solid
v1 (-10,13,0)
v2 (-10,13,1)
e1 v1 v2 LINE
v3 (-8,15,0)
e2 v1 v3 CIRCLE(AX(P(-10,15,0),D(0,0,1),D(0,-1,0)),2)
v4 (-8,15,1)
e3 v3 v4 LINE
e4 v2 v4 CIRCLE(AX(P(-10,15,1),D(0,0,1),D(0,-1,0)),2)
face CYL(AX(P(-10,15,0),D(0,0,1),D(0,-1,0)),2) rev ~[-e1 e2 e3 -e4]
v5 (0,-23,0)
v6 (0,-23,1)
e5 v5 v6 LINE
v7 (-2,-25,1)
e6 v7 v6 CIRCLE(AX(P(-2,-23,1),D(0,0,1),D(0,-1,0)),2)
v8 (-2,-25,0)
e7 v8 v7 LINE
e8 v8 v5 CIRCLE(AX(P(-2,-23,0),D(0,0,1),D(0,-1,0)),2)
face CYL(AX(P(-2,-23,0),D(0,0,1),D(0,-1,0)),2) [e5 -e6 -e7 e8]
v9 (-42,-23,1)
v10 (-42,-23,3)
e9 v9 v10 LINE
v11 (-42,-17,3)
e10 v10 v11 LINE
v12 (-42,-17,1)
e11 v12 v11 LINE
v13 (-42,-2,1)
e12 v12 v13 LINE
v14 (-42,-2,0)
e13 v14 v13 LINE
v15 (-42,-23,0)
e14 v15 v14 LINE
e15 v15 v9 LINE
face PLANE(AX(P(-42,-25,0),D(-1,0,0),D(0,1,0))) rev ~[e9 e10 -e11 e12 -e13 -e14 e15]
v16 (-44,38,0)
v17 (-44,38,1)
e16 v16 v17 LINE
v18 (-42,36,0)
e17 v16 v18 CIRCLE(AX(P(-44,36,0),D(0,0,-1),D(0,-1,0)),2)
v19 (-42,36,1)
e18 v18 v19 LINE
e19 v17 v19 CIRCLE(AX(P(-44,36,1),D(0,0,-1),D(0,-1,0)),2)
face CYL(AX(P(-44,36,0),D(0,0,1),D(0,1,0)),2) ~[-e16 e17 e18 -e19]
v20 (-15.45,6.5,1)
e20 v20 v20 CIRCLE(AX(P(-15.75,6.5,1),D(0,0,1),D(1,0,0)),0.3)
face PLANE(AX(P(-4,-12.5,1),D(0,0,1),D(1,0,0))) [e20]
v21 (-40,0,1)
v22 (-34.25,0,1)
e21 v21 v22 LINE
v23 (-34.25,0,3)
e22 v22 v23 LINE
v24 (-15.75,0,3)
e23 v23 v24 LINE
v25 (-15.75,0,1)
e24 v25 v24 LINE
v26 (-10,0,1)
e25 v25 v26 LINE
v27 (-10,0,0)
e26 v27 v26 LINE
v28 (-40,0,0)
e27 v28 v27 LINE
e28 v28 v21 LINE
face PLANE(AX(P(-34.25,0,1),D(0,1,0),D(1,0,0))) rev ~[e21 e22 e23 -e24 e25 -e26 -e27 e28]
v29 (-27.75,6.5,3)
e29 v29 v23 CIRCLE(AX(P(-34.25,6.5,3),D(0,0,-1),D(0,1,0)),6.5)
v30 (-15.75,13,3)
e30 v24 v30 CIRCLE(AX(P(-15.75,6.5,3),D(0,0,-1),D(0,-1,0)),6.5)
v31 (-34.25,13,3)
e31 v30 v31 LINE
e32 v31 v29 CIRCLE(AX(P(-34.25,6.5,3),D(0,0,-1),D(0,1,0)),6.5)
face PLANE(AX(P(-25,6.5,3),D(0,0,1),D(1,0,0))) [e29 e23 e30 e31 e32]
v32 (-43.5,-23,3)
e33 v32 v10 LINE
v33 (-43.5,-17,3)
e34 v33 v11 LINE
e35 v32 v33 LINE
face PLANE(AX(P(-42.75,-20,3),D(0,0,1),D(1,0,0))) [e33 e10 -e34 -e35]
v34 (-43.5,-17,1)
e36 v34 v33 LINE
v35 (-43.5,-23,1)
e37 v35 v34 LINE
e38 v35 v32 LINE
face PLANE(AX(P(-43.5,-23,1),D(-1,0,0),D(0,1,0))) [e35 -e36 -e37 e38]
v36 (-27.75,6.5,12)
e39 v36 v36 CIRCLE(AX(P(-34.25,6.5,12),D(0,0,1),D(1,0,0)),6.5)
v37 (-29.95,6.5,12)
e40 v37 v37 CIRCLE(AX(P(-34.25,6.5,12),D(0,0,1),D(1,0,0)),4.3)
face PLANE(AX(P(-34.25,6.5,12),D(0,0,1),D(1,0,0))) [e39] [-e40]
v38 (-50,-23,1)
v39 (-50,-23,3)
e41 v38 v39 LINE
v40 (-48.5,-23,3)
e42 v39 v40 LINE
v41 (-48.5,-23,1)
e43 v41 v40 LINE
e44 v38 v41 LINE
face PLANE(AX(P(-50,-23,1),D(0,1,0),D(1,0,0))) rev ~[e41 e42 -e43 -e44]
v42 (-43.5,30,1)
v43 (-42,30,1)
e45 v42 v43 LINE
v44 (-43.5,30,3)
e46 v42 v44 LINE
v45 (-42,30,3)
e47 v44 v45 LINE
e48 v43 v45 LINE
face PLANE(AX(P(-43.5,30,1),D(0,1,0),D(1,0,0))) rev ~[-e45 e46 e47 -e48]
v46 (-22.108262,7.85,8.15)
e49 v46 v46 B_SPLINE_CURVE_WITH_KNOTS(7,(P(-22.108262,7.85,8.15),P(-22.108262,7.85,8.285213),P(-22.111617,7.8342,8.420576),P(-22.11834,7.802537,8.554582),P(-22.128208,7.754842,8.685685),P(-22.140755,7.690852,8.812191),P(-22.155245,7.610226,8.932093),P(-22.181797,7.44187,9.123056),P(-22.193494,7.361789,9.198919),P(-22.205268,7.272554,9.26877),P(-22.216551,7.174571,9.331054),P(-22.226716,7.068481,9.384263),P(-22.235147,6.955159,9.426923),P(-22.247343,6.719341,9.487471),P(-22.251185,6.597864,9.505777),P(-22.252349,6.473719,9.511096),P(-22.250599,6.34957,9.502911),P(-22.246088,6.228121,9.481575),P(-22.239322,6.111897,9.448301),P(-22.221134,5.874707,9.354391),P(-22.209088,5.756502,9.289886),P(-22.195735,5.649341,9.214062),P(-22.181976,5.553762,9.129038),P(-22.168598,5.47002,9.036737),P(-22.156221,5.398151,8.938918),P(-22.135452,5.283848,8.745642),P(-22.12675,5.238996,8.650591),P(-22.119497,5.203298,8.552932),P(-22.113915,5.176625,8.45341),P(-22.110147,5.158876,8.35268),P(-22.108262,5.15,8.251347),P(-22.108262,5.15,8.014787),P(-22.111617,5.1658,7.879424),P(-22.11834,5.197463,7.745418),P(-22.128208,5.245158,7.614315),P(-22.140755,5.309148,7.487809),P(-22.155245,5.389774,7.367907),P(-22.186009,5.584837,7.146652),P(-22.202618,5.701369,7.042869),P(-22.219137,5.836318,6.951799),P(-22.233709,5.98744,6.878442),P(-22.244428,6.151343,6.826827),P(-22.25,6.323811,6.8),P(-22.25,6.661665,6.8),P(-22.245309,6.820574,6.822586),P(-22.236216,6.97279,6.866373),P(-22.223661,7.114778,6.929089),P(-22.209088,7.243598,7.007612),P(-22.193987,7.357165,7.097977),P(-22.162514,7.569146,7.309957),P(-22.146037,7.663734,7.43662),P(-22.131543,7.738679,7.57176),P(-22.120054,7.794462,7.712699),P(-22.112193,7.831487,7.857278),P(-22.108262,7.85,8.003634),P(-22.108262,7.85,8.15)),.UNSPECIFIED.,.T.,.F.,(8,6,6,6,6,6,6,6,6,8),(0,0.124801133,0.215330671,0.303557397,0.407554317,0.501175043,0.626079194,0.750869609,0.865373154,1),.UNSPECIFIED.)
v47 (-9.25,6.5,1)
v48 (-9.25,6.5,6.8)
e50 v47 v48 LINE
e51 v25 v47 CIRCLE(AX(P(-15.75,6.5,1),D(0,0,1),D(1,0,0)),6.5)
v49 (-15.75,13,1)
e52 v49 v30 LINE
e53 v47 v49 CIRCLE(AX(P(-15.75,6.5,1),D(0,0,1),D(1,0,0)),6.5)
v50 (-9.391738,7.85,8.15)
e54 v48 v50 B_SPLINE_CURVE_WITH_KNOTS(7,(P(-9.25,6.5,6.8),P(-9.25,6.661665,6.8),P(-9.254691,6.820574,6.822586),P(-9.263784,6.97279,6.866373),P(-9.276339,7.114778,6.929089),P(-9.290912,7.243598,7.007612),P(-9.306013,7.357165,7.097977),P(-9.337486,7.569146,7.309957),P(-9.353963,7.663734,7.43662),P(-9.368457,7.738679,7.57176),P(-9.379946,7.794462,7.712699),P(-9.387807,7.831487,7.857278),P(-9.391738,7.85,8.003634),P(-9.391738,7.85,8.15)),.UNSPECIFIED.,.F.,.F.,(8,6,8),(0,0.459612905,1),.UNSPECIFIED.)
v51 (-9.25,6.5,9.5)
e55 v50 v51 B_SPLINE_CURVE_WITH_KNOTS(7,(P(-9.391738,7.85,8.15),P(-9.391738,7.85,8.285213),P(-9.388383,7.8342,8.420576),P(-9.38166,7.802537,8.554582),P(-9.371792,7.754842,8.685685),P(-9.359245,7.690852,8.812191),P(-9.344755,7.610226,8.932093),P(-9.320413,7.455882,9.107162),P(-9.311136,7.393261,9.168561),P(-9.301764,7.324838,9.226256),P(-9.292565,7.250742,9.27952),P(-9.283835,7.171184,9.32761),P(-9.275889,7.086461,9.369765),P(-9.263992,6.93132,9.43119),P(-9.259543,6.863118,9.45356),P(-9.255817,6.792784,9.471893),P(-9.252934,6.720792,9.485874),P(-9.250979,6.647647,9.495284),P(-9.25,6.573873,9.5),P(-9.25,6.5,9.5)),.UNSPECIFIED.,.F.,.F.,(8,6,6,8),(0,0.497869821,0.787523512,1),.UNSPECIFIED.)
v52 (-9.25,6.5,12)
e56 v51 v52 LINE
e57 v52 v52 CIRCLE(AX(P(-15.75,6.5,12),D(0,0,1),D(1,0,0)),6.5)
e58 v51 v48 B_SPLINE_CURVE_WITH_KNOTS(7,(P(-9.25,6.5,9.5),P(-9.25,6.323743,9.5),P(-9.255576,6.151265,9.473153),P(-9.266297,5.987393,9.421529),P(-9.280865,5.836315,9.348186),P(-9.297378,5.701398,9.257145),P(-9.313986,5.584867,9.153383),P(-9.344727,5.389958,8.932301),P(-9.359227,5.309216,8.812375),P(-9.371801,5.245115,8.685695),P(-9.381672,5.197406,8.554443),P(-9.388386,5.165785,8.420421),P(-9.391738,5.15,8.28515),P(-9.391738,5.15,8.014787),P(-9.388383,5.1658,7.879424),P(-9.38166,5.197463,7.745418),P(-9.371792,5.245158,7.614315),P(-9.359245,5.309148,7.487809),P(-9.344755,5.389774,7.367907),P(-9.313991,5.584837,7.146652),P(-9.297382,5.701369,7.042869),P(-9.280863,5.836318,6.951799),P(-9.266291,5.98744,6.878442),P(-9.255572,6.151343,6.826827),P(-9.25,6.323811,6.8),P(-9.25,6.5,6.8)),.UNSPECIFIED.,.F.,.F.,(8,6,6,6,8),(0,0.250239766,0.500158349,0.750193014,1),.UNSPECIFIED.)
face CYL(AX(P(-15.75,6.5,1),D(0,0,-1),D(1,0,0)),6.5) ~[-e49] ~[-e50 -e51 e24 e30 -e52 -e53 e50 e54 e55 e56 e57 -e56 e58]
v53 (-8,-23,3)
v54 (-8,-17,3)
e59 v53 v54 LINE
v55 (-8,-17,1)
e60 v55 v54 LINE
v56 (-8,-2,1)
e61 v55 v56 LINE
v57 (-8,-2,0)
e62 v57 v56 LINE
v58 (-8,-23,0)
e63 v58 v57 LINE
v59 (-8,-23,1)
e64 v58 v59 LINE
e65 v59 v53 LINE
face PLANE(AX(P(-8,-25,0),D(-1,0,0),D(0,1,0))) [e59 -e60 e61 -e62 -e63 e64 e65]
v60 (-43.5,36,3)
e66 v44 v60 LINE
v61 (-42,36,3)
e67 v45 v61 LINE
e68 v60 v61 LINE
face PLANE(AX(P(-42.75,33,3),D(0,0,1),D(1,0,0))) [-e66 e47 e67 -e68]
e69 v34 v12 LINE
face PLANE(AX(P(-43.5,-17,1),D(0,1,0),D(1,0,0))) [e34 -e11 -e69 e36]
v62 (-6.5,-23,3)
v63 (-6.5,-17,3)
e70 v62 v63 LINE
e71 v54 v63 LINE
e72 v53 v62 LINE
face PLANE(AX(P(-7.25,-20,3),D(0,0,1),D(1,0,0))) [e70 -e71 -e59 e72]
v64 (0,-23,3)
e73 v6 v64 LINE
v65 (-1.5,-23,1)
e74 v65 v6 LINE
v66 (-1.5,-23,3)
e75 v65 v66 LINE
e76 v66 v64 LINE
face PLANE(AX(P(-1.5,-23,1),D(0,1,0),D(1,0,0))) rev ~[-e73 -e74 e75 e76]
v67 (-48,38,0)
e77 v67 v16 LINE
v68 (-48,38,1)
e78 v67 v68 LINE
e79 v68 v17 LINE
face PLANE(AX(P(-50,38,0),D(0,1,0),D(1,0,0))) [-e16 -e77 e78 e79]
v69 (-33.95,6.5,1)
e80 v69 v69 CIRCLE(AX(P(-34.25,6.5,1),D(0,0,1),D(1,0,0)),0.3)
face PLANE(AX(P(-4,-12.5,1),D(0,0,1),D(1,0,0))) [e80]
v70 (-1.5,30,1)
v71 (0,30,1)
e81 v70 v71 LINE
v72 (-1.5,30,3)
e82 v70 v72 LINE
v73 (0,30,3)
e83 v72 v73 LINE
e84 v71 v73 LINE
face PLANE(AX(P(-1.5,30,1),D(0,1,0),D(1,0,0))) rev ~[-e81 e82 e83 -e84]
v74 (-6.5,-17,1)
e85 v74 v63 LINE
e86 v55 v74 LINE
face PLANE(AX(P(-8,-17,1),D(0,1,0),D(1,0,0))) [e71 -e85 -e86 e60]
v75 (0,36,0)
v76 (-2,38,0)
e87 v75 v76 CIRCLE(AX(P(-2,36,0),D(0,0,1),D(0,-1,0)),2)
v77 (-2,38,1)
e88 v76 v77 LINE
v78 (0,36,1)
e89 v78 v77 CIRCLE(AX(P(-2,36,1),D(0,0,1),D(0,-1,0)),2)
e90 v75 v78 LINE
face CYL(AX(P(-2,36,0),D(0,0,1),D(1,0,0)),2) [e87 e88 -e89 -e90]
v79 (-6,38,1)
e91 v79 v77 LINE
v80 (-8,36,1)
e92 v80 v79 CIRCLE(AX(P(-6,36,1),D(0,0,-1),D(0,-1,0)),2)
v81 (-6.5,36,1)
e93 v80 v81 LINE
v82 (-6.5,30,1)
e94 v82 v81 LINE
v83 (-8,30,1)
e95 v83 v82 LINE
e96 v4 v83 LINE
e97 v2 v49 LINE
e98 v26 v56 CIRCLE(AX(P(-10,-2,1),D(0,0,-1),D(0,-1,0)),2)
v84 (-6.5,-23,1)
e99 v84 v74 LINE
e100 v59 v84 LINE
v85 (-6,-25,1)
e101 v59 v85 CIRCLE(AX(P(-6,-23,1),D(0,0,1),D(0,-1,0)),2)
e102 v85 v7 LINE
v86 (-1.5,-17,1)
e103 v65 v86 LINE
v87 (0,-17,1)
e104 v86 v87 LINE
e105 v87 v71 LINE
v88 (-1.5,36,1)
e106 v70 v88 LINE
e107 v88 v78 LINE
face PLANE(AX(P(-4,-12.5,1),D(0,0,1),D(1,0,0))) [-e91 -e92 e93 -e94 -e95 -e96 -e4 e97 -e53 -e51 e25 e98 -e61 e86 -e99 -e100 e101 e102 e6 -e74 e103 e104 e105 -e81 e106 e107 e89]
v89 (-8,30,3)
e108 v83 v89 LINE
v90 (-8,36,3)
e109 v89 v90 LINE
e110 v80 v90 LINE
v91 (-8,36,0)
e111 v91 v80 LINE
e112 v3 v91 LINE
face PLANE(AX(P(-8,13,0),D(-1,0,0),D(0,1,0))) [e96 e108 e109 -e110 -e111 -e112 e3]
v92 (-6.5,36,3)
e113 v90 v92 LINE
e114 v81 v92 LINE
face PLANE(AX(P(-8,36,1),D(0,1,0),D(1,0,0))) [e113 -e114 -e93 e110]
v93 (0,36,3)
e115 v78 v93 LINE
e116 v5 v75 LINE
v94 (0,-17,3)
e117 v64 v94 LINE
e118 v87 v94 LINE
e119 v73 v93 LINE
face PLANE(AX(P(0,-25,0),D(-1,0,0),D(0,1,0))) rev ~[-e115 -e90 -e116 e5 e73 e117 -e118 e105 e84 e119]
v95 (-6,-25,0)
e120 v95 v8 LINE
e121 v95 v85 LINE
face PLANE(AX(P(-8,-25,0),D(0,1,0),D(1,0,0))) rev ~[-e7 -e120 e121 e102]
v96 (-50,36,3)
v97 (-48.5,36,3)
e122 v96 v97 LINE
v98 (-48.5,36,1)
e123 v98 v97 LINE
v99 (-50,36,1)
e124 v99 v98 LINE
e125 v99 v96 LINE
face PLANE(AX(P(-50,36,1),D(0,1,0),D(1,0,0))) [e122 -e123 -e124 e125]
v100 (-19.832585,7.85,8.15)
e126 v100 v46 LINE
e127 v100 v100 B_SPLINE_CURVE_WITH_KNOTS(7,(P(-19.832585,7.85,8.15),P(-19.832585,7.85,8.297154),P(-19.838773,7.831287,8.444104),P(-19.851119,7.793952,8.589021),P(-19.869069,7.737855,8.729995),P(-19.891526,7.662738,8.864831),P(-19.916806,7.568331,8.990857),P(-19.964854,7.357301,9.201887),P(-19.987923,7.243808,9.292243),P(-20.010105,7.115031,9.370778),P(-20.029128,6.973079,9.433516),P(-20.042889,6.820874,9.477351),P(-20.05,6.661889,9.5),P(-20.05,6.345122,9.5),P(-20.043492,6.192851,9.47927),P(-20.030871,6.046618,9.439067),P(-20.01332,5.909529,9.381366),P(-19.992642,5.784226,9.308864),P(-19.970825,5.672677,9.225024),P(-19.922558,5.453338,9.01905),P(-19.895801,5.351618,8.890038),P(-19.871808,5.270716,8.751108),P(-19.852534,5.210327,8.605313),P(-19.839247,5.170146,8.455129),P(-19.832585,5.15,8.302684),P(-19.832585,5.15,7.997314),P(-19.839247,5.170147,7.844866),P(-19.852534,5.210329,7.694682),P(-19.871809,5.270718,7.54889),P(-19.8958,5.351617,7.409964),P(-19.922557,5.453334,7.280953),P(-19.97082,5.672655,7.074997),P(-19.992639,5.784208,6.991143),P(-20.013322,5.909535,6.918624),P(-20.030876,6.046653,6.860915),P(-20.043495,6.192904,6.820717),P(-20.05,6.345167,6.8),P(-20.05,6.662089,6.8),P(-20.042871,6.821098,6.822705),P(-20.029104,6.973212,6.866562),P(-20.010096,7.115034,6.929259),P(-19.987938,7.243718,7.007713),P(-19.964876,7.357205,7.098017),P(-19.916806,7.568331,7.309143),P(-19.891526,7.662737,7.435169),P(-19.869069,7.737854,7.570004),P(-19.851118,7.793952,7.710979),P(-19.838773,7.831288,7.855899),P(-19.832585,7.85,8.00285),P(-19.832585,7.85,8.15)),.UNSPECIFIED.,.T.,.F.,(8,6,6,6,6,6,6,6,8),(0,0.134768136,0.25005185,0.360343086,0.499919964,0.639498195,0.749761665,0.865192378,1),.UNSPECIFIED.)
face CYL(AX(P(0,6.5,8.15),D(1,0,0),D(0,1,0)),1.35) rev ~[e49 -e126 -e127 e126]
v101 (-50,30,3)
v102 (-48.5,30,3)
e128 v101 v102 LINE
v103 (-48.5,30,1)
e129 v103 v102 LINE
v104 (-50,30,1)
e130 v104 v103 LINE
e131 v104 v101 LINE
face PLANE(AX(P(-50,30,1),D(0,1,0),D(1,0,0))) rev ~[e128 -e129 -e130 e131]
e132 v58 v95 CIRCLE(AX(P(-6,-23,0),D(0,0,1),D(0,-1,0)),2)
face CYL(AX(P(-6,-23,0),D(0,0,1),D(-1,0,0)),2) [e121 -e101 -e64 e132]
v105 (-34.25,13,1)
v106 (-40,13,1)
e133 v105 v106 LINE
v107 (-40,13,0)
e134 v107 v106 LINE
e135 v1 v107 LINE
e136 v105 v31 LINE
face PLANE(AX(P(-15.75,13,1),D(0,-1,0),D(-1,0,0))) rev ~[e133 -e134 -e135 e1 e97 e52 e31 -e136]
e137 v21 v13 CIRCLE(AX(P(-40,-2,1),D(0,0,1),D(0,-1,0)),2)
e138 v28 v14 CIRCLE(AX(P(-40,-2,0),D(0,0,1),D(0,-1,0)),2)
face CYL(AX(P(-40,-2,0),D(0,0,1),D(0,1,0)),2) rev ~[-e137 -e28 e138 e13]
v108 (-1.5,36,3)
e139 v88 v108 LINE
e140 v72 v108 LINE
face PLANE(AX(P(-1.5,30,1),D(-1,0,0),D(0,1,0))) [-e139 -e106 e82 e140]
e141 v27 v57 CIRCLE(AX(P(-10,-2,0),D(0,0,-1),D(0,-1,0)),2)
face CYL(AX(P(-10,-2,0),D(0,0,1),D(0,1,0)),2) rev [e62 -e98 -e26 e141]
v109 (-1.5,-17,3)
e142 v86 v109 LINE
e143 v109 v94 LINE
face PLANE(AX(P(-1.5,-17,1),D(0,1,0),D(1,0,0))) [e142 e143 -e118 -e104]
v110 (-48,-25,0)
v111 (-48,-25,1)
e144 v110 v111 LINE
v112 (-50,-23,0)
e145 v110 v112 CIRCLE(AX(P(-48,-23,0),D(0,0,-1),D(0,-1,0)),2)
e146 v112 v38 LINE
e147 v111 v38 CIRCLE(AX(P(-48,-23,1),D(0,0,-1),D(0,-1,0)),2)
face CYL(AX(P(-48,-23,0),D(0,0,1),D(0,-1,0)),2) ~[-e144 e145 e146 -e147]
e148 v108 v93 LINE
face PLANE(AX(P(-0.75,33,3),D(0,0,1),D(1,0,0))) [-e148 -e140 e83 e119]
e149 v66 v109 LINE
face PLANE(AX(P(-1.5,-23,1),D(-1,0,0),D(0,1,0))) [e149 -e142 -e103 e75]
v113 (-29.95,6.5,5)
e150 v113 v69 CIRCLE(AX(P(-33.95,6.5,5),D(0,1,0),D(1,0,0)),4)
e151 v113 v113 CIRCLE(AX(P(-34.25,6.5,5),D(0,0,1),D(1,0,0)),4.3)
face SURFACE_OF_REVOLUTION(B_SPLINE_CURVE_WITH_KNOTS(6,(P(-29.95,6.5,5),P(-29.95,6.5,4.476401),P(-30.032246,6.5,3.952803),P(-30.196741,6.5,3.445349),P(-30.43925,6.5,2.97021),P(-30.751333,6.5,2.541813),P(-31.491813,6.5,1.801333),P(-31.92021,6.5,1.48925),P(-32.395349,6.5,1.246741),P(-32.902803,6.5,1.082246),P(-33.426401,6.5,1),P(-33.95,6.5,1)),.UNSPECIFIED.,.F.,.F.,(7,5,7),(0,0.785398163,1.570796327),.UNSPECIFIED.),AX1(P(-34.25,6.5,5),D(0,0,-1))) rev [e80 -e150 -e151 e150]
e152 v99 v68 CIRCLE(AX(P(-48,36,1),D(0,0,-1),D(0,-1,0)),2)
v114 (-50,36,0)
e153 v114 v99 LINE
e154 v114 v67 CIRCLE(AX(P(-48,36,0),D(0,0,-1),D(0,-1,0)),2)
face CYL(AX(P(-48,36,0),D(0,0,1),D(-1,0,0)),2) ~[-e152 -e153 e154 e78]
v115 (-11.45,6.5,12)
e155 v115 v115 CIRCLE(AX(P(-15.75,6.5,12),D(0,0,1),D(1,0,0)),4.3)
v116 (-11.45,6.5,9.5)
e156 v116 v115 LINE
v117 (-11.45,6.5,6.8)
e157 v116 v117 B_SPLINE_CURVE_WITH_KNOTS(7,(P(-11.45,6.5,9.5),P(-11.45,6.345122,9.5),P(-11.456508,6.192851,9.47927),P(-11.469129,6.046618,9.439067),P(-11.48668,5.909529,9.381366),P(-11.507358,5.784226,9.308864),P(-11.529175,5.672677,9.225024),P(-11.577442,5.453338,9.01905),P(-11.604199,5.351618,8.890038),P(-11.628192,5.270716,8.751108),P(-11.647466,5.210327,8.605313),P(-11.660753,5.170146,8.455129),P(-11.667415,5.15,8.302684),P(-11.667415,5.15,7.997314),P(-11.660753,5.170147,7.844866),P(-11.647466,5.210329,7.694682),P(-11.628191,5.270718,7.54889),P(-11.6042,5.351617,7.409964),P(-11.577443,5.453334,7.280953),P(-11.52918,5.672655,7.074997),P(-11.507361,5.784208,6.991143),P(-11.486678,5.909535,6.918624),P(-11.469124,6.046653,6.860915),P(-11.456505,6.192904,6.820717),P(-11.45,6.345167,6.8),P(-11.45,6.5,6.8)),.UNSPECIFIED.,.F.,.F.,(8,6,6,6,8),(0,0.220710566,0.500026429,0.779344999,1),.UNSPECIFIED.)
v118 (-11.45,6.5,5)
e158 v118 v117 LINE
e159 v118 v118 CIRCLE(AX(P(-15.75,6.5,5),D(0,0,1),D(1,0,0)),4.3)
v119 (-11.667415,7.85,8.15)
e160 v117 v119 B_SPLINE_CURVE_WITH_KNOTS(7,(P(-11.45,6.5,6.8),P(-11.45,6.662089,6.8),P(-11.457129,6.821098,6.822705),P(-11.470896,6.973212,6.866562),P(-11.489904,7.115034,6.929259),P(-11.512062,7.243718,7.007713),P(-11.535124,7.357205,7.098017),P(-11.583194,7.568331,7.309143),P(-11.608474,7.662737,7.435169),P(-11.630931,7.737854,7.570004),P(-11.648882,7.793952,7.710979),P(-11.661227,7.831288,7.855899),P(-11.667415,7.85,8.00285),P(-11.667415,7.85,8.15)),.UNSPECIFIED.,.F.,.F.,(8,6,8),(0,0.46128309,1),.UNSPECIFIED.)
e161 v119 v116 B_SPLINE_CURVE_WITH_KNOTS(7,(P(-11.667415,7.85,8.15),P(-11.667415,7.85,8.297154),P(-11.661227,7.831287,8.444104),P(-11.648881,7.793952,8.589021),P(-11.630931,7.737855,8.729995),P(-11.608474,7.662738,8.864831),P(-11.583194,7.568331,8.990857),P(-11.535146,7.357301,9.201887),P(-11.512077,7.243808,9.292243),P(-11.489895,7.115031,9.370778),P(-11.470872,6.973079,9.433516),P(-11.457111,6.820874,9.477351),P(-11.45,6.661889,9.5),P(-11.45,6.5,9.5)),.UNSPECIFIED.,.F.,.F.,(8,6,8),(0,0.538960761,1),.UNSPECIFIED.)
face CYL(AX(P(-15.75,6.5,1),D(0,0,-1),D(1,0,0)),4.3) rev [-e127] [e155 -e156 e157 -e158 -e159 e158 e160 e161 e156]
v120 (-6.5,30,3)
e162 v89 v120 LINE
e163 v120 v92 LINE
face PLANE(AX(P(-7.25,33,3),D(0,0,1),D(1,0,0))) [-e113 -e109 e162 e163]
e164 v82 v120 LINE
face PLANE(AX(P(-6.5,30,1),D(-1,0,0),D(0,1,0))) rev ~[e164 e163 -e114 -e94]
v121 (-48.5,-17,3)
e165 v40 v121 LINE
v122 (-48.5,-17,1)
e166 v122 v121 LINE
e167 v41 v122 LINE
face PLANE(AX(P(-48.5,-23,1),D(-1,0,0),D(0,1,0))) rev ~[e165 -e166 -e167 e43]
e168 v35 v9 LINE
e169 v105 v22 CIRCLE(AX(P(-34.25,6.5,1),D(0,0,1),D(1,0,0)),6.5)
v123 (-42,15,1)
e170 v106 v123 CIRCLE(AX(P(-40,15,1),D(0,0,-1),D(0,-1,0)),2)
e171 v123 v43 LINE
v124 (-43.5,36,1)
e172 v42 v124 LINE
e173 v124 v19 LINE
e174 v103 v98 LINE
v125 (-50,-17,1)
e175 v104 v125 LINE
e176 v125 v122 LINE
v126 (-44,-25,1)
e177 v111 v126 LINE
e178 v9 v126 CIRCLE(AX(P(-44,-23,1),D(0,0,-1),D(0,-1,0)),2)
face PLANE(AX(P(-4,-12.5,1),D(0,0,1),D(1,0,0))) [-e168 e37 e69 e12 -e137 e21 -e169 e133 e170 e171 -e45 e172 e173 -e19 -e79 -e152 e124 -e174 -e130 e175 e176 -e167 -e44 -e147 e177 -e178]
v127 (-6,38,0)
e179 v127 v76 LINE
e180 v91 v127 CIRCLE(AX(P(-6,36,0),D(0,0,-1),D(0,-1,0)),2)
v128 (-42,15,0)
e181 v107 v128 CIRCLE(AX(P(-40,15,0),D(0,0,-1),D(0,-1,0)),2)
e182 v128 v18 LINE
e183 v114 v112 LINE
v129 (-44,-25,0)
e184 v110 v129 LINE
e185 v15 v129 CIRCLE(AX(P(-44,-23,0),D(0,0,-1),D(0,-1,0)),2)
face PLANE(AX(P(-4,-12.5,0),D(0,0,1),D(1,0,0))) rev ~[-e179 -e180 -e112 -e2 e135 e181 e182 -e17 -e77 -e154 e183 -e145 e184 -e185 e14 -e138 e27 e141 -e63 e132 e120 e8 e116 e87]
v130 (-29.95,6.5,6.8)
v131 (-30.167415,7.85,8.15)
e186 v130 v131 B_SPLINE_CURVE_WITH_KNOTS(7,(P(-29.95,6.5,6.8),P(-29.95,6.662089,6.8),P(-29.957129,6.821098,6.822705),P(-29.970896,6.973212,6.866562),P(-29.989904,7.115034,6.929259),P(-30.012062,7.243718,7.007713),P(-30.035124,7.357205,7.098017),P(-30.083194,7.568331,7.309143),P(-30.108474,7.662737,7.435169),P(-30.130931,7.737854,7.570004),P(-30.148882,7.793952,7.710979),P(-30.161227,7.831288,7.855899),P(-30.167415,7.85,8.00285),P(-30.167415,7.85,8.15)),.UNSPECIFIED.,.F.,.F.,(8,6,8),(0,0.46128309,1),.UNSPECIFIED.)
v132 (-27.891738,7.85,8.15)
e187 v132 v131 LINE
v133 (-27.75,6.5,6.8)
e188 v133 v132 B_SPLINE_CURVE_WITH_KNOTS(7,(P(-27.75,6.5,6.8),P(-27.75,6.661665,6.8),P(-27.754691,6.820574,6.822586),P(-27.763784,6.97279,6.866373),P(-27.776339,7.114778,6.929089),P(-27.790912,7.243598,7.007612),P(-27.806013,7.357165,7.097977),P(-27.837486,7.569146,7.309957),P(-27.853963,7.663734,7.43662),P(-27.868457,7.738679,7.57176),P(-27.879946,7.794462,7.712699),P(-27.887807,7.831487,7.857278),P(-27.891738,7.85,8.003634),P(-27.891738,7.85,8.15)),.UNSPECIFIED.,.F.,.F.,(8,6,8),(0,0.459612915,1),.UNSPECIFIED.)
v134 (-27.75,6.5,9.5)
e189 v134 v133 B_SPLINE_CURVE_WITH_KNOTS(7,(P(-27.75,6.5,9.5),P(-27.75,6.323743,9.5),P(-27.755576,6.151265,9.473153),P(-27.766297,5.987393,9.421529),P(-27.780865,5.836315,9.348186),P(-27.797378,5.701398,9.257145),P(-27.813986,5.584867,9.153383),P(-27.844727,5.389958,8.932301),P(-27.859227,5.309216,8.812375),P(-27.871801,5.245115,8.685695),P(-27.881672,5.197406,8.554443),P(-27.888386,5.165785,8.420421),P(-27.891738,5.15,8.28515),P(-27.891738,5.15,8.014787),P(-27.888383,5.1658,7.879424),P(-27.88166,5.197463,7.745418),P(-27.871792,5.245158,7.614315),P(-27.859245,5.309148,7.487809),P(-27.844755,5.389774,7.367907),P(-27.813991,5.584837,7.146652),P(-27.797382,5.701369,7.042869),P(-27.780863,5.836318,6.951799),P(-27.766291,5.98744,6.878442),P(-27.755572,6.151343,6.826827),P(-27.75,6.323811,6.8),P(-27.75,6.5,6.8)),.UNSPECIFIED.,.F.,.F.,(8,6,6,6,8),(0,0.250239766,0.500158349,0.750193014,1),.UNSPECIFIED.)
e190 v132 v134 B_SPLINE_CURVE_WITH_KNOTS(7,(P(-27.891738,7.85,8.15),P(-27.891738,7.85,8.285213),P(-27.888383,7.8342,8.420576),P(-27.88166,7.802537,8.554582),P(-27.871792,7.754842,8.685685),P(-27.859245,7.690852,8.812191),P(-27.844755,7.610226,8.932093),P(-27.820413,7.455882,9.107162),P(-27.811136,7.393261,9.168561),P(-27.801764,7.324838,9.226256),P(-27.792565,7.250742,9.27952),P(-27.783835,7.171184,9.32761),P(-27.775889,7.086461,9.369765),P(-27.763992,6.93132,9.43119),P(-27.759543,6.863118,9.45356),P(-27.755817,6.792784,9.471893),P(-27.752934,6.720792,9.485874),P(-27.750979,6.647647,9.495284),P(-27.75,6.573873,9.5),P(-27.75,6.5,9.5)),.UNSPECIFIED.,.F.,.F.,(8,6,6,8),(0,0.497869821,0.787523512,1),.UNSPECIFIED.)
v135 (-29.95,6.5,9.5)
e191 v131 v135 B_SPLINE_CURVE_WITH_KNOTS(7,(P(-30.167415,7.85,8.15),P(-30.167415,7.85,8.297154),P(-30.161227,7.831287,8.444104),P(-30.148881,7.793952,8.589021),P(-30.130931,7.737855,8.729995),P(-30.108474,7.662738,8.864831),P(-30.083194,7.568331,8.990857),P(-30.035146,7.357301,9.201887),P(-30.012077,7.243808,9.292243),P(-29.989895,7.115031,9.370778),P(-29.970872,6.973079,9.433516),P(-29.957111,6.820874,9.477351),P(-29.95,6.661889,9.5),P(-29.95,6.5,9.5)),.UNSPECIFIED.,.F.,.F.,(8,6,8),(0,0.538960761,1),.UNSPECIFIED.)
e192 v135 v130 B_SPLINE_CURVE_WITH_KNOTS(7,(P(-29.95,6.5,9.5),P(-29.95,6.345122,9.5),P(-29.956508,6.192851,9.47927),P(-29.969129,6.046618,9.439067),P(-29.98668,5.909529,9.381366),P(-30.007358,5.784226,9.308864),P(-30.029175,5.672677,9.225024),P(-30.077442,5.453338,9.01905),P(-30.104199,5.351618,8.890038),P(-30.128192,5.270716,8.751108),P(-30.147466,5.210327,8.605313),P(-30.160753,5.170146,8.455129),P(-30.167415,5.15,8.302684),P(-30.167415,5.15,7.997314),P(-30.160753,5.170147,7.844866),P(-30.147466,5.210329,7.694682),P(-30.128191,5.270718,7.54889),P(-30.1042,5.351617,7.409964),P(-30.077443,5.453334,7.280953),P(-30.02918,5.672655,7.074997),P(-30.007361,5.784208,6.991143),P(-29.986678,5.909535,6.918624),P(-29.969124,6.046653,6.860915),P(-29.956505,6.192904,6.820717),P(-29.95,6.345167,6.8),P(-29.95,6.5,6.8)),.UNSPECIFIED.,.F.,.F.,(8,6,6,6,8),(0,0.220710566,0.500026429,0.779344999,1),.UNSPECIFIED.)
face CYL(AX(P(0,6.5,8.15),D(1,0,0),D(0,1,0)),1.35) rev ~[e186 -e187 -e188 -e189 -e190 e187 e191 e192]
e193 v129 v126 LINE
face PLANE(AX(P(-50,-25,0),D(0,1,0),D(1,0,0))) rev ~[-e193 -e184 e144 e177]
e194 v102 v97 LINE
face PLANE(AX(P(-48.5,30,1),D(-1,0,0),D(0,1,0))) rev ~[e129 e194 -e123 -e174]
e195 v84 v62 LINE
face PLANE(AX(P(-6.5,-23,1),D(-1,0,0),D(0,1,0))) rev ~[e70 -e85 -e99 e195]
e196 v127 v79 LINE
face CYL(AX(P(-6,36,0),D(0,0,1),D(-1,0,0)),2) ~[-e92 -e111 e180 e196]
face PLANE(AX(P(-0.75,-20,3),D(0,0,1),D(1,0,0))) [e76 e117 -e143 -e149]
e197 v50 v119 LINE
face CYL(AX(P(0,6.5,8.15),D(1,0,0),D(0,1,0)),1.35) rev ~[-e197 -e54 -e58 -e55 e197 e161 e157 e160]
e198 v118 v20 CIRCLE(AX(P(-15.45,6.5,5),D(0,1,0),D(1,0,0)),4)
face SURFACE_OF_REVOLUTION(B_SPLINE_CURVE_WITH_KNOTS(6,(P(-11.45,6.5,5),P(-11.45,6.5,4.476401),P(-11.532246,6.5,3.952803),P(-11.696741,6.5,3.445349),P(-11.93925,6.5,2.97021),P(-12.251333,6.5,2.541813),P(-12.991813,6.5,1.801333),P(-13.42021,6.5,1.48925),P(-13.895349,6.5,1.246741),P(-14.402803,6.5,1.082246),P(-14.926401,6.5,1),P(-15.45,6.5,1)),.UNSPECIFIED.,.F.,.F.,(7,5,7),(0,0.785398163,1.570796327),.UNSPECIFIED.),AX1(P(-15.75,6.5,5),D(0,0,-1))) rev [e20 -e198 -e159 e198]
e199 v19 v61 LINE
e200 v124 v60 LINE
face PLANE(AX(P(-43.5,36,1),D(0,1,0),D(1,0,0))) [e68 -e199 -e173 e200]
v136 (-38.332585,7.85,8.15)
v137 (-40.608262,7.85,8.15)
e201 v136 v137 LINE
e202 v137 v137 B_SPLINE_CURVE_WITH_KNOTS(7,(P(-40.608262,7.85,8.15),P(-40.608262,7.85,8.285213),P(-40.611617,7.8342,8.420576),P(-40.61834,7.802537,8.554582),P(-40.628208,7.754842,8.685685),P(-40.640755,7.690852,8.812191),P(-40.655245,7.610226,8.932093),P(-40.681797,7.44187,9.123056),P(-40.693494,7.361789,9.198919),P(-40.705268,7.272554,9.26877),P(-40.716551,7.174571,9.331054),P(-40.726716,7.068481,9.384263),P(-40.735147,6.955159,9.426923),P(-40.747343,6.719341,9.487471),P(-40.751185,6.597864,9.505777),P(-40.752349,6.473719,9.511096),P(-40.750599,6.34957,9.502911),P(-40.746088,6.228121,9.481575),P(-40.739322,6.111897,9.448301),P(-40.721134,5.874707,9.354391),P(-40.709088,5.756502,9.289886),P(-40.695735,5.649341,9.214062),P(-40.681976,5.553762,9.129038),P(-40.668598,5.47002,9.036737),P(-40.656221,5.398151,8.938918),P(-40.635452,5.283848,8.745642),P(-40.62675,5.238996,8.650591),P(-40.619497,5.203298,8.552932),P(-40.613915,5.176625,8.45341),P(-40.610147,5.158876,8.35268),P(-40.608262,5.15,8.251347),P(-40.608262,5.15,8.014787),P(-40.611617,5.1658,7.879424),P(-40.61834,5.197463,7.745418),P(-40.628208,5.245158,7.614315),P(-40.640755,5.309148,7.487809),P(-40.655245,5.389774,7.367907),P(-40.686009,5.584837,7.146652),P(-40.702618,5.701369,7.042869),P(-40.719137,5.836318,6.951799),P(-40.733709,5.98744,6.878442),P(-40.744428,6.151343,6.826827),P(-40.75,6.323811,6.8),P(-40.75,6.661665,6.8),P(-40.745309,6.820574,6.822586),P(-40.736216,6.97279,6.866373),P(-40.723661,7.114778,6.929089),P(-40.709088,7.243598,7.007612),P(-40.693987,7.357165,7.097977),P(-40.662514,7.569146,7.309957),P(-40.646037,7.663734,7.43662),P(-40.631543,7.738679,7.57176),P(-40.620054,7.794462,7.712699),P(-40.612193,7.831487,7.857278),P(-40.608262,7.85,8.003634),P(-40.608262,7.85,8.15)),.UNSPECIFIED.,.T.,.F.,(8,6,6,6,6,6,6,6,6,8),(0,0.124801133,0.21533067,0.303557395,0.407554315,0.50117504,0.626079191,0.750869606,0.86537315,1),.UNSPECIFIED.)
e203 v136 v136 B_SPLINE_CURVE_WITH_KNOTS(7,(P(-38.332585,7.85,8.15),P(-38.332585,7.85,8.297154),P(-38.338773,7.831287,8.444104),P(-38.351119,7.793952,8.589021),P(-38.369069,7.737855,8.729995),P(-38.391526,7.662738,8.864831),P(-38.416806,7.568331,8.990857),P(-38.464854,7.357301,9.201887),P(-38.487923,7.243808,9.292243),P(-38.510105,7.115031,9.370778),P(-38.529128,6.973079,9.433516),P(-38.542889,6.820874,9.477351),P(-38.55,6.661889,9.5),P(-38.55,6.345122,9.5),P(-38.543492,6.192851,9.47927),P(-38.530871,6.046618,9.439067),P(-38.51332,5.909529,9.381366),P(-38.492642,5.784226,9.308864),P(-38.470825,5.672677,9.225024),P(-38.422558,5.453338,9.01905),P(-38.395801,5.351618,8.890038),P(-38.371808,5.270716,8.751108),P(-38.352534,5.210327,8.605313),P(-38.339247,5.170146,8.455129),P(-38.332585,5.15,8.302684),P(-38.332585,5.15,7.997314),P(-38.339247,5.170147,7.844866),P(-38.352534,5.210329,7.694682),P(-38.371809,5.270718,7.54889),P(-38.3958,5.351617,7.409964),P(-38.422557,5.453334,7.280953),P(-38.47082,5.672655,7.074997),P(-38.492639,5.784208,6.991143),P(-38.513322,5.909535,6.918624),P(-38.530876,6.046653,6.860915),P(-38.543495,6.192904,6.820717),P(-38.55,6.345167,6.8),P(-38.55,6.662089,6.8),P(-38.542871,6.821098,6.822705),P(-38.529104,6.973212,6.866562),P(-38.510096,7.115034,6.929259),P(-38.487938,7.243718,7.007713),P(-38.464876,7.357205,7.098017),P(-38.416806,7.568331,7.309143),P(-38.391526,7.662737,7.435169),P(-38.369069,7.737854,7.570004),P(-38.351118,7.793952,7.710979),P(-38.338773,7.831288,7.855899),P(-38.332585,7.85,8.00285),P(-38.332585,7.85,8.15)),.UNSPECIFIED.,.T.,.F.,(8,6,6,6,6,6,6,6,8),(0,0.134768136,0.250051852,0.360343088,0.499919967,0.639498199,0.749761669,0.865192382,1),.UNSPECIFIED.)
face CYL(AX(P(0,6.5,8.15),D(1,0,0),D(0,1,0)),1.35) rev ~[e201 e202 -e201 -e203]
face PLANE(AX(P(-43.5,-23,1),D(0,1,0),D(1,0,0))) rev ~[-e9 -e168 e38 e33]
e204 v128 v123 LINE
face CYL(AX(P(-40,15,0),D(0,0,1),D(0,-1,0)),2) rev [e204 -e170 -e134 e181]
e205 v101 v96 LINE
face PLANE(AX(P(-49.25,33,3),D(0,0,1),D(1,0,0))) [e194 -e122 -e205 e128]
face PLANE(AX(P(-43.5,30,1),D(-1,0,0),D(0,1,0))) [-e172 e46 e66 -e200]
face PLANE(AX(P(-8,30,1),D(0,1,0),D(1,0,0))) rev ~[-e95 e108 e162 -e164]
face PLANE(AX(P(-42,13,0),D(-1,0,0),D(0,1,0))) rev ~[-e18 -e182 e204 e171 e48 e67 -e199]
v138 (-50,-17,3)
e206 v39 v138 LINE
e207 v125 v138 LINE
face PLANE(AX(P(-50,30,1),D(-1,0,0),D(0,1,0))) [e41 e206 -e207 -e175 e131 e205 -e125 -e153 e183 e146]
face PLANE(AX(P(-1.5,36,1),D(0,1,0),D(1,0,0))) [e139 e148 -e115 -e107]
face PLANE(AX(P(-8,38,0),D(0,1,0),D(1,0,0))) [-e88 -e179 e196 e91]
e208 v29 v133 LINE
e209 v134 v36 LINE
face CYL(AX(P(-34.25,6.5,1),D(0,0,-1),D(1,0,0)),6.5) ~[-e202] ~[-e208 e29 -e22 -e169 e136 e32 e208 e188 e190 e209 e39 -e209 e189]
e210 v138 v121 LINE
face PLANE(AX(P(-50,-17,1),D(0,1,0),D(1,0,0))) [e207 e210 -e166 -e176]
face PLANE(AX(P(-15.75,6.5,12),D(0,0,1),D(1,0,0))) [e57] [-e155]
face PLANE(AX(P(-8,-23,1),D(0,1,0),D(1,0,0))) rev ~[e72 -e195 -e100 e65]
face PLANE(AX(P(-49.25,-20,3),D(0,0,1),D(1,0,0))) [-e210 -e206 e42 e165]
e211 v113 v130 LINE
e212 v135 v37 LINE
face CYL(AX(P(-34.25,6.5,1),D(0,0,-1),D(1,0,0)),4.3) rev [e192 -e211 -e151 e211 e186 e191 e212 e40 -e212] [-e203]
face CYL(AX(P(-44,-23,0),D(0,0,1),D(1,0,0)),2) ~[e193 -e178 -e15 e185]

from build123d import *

# Parameters (mm, degrees)
F0_W      = 8
F0_H      = 25
F1_DEPTH  = 1
F2_R      = 6.5
F2_R_2    = 4.3
F3_DEPTH  = 11
F4_R      = 4
F5_R      = 1.35
F6_DEPTH  = 50.001
F7_R      = 2
F8_W      = 1.5
F8_H      = 6
F9_DEPTH  = 2
F11_DEPTH = 2


with BuildPart() as f1:
    # F0 (on Top) → F1 (new body)
    with BuildSketch(Plane.XY):
        with Locations((-4, -12.5)):
            Rectangle(F0_W, F0_H)
        Polygon((-8, 0), (0, 0), (0, 13), (-8, 13), (-42, 13), (-50, 13), (-50, 0), (-42, 0), align=None)
        with Locations((-4, 25.5)):
            Rectangle(F0_W, F0_H)
        with Locations((-46, -12.5)):
            Rectangle(F0_W, F0_H)
        with Locations((-46, 25.5)):
            Rectangle(F0_W, F0_H)
    extrude(amount=F1_DEPTH)

    # F2 (on face) → F3 (join)
    with BuildSketch(Plane.XY.offset(1)):
        with Locations((-34.25, 6.5)):
            Circle(F2_R)
        with Locations((-34.25, 6.5)):
            Circle(F2_R_2, mode=Mode.SUBTRACT)
        with Locations((-15.75, 6.5)):
            Circle(F2_R)
        with Locations((-15.75, 6.5)):
            Circle(F2_R_2, mode=Mode.SUBTRACT)
    extrude(amount=F3_DEPTH)

    # F4
    f4_edges = [f1.edges().sort_by_distance(p)[0] for p in [
        (-38.55, 6.5, 1),
        (-20.05, 6.5, 1),
    ]]
    fillet(f4_edges, radius=F4_R)

    # F5 (on face) → F6 (cut, through all)
    with BuildSketch(Plane.YZ):
        with Locations((6.5, 8.15)):
            Circle(F5_R)
    extrude(amount=-F6_DEPTH, mode=Mode.SUBTRACT)

    # F7
    f7_edges = [f1.edges().sort_by_distance(p)[0] for p in [
        (-42, 38, 0.5),
        (0, 38, 0.5),
        (-8, 38, 0.5),
        (-42, 13, 0.5),
        (-8, 13, 0.5),
        (-8, 0, 0.5),
        (0, -25, 0.5),
        (-8, -25, 0.5),
        (-42, 0, 0.5),
        (-42, -25, 0.5),
        (-50, -25, 0.5),
        (-50, 38, 0.5),
    ]]
    fillet(f7_edges, radius=F7_R)

    # F8 (on face) → F9 (join)
    with BuildSketch(Plane.XY.offset(1)):
        with Locations((-49.25, 33)):
            Rectangle(F8_W, F8_H)
        with Locations((-42.75, 33)):
            Rectangle(F8_W, F8_H)
        with Locations((-42.75, -20)):
            Rectangle(F8_W, F8_H)
        with Locations((-49.25, -20)):
            Rectangle(F8_W, F8_H)
        with Locations((-0.75, 33)):
            Rectangle(F8_W, F8_H)
        with Locations((-7.25, 33)):
            Rectangle(F8_W, F8_H)
        with Locations((-7.25, -20)):
            Rectangle(F8_W, F8_H)
        with Locations((-0.75, -20)):
            Rectangle(F8_W, F8_H)
    extrude(amount=F9_DEPTH)

    # F10 (on face) → F11 (join)
    with BuildSketch(Plane.XY.offset(1)):
        with BuildLine():
            Line((-15.75, 13), (-34.25, 13))
            ThreePointArc((-34.25, 13), (-27.75, 6.5), (-34.25, 0))
            Line((-34.25, 0), (-15.75, 0))
            ThreePointArc((-15.75, 0), (-22.25, 6.5), (-15.75, 13))
        make_face()
    extrude(amount=F11_DEPTH)


solid = f1.part
